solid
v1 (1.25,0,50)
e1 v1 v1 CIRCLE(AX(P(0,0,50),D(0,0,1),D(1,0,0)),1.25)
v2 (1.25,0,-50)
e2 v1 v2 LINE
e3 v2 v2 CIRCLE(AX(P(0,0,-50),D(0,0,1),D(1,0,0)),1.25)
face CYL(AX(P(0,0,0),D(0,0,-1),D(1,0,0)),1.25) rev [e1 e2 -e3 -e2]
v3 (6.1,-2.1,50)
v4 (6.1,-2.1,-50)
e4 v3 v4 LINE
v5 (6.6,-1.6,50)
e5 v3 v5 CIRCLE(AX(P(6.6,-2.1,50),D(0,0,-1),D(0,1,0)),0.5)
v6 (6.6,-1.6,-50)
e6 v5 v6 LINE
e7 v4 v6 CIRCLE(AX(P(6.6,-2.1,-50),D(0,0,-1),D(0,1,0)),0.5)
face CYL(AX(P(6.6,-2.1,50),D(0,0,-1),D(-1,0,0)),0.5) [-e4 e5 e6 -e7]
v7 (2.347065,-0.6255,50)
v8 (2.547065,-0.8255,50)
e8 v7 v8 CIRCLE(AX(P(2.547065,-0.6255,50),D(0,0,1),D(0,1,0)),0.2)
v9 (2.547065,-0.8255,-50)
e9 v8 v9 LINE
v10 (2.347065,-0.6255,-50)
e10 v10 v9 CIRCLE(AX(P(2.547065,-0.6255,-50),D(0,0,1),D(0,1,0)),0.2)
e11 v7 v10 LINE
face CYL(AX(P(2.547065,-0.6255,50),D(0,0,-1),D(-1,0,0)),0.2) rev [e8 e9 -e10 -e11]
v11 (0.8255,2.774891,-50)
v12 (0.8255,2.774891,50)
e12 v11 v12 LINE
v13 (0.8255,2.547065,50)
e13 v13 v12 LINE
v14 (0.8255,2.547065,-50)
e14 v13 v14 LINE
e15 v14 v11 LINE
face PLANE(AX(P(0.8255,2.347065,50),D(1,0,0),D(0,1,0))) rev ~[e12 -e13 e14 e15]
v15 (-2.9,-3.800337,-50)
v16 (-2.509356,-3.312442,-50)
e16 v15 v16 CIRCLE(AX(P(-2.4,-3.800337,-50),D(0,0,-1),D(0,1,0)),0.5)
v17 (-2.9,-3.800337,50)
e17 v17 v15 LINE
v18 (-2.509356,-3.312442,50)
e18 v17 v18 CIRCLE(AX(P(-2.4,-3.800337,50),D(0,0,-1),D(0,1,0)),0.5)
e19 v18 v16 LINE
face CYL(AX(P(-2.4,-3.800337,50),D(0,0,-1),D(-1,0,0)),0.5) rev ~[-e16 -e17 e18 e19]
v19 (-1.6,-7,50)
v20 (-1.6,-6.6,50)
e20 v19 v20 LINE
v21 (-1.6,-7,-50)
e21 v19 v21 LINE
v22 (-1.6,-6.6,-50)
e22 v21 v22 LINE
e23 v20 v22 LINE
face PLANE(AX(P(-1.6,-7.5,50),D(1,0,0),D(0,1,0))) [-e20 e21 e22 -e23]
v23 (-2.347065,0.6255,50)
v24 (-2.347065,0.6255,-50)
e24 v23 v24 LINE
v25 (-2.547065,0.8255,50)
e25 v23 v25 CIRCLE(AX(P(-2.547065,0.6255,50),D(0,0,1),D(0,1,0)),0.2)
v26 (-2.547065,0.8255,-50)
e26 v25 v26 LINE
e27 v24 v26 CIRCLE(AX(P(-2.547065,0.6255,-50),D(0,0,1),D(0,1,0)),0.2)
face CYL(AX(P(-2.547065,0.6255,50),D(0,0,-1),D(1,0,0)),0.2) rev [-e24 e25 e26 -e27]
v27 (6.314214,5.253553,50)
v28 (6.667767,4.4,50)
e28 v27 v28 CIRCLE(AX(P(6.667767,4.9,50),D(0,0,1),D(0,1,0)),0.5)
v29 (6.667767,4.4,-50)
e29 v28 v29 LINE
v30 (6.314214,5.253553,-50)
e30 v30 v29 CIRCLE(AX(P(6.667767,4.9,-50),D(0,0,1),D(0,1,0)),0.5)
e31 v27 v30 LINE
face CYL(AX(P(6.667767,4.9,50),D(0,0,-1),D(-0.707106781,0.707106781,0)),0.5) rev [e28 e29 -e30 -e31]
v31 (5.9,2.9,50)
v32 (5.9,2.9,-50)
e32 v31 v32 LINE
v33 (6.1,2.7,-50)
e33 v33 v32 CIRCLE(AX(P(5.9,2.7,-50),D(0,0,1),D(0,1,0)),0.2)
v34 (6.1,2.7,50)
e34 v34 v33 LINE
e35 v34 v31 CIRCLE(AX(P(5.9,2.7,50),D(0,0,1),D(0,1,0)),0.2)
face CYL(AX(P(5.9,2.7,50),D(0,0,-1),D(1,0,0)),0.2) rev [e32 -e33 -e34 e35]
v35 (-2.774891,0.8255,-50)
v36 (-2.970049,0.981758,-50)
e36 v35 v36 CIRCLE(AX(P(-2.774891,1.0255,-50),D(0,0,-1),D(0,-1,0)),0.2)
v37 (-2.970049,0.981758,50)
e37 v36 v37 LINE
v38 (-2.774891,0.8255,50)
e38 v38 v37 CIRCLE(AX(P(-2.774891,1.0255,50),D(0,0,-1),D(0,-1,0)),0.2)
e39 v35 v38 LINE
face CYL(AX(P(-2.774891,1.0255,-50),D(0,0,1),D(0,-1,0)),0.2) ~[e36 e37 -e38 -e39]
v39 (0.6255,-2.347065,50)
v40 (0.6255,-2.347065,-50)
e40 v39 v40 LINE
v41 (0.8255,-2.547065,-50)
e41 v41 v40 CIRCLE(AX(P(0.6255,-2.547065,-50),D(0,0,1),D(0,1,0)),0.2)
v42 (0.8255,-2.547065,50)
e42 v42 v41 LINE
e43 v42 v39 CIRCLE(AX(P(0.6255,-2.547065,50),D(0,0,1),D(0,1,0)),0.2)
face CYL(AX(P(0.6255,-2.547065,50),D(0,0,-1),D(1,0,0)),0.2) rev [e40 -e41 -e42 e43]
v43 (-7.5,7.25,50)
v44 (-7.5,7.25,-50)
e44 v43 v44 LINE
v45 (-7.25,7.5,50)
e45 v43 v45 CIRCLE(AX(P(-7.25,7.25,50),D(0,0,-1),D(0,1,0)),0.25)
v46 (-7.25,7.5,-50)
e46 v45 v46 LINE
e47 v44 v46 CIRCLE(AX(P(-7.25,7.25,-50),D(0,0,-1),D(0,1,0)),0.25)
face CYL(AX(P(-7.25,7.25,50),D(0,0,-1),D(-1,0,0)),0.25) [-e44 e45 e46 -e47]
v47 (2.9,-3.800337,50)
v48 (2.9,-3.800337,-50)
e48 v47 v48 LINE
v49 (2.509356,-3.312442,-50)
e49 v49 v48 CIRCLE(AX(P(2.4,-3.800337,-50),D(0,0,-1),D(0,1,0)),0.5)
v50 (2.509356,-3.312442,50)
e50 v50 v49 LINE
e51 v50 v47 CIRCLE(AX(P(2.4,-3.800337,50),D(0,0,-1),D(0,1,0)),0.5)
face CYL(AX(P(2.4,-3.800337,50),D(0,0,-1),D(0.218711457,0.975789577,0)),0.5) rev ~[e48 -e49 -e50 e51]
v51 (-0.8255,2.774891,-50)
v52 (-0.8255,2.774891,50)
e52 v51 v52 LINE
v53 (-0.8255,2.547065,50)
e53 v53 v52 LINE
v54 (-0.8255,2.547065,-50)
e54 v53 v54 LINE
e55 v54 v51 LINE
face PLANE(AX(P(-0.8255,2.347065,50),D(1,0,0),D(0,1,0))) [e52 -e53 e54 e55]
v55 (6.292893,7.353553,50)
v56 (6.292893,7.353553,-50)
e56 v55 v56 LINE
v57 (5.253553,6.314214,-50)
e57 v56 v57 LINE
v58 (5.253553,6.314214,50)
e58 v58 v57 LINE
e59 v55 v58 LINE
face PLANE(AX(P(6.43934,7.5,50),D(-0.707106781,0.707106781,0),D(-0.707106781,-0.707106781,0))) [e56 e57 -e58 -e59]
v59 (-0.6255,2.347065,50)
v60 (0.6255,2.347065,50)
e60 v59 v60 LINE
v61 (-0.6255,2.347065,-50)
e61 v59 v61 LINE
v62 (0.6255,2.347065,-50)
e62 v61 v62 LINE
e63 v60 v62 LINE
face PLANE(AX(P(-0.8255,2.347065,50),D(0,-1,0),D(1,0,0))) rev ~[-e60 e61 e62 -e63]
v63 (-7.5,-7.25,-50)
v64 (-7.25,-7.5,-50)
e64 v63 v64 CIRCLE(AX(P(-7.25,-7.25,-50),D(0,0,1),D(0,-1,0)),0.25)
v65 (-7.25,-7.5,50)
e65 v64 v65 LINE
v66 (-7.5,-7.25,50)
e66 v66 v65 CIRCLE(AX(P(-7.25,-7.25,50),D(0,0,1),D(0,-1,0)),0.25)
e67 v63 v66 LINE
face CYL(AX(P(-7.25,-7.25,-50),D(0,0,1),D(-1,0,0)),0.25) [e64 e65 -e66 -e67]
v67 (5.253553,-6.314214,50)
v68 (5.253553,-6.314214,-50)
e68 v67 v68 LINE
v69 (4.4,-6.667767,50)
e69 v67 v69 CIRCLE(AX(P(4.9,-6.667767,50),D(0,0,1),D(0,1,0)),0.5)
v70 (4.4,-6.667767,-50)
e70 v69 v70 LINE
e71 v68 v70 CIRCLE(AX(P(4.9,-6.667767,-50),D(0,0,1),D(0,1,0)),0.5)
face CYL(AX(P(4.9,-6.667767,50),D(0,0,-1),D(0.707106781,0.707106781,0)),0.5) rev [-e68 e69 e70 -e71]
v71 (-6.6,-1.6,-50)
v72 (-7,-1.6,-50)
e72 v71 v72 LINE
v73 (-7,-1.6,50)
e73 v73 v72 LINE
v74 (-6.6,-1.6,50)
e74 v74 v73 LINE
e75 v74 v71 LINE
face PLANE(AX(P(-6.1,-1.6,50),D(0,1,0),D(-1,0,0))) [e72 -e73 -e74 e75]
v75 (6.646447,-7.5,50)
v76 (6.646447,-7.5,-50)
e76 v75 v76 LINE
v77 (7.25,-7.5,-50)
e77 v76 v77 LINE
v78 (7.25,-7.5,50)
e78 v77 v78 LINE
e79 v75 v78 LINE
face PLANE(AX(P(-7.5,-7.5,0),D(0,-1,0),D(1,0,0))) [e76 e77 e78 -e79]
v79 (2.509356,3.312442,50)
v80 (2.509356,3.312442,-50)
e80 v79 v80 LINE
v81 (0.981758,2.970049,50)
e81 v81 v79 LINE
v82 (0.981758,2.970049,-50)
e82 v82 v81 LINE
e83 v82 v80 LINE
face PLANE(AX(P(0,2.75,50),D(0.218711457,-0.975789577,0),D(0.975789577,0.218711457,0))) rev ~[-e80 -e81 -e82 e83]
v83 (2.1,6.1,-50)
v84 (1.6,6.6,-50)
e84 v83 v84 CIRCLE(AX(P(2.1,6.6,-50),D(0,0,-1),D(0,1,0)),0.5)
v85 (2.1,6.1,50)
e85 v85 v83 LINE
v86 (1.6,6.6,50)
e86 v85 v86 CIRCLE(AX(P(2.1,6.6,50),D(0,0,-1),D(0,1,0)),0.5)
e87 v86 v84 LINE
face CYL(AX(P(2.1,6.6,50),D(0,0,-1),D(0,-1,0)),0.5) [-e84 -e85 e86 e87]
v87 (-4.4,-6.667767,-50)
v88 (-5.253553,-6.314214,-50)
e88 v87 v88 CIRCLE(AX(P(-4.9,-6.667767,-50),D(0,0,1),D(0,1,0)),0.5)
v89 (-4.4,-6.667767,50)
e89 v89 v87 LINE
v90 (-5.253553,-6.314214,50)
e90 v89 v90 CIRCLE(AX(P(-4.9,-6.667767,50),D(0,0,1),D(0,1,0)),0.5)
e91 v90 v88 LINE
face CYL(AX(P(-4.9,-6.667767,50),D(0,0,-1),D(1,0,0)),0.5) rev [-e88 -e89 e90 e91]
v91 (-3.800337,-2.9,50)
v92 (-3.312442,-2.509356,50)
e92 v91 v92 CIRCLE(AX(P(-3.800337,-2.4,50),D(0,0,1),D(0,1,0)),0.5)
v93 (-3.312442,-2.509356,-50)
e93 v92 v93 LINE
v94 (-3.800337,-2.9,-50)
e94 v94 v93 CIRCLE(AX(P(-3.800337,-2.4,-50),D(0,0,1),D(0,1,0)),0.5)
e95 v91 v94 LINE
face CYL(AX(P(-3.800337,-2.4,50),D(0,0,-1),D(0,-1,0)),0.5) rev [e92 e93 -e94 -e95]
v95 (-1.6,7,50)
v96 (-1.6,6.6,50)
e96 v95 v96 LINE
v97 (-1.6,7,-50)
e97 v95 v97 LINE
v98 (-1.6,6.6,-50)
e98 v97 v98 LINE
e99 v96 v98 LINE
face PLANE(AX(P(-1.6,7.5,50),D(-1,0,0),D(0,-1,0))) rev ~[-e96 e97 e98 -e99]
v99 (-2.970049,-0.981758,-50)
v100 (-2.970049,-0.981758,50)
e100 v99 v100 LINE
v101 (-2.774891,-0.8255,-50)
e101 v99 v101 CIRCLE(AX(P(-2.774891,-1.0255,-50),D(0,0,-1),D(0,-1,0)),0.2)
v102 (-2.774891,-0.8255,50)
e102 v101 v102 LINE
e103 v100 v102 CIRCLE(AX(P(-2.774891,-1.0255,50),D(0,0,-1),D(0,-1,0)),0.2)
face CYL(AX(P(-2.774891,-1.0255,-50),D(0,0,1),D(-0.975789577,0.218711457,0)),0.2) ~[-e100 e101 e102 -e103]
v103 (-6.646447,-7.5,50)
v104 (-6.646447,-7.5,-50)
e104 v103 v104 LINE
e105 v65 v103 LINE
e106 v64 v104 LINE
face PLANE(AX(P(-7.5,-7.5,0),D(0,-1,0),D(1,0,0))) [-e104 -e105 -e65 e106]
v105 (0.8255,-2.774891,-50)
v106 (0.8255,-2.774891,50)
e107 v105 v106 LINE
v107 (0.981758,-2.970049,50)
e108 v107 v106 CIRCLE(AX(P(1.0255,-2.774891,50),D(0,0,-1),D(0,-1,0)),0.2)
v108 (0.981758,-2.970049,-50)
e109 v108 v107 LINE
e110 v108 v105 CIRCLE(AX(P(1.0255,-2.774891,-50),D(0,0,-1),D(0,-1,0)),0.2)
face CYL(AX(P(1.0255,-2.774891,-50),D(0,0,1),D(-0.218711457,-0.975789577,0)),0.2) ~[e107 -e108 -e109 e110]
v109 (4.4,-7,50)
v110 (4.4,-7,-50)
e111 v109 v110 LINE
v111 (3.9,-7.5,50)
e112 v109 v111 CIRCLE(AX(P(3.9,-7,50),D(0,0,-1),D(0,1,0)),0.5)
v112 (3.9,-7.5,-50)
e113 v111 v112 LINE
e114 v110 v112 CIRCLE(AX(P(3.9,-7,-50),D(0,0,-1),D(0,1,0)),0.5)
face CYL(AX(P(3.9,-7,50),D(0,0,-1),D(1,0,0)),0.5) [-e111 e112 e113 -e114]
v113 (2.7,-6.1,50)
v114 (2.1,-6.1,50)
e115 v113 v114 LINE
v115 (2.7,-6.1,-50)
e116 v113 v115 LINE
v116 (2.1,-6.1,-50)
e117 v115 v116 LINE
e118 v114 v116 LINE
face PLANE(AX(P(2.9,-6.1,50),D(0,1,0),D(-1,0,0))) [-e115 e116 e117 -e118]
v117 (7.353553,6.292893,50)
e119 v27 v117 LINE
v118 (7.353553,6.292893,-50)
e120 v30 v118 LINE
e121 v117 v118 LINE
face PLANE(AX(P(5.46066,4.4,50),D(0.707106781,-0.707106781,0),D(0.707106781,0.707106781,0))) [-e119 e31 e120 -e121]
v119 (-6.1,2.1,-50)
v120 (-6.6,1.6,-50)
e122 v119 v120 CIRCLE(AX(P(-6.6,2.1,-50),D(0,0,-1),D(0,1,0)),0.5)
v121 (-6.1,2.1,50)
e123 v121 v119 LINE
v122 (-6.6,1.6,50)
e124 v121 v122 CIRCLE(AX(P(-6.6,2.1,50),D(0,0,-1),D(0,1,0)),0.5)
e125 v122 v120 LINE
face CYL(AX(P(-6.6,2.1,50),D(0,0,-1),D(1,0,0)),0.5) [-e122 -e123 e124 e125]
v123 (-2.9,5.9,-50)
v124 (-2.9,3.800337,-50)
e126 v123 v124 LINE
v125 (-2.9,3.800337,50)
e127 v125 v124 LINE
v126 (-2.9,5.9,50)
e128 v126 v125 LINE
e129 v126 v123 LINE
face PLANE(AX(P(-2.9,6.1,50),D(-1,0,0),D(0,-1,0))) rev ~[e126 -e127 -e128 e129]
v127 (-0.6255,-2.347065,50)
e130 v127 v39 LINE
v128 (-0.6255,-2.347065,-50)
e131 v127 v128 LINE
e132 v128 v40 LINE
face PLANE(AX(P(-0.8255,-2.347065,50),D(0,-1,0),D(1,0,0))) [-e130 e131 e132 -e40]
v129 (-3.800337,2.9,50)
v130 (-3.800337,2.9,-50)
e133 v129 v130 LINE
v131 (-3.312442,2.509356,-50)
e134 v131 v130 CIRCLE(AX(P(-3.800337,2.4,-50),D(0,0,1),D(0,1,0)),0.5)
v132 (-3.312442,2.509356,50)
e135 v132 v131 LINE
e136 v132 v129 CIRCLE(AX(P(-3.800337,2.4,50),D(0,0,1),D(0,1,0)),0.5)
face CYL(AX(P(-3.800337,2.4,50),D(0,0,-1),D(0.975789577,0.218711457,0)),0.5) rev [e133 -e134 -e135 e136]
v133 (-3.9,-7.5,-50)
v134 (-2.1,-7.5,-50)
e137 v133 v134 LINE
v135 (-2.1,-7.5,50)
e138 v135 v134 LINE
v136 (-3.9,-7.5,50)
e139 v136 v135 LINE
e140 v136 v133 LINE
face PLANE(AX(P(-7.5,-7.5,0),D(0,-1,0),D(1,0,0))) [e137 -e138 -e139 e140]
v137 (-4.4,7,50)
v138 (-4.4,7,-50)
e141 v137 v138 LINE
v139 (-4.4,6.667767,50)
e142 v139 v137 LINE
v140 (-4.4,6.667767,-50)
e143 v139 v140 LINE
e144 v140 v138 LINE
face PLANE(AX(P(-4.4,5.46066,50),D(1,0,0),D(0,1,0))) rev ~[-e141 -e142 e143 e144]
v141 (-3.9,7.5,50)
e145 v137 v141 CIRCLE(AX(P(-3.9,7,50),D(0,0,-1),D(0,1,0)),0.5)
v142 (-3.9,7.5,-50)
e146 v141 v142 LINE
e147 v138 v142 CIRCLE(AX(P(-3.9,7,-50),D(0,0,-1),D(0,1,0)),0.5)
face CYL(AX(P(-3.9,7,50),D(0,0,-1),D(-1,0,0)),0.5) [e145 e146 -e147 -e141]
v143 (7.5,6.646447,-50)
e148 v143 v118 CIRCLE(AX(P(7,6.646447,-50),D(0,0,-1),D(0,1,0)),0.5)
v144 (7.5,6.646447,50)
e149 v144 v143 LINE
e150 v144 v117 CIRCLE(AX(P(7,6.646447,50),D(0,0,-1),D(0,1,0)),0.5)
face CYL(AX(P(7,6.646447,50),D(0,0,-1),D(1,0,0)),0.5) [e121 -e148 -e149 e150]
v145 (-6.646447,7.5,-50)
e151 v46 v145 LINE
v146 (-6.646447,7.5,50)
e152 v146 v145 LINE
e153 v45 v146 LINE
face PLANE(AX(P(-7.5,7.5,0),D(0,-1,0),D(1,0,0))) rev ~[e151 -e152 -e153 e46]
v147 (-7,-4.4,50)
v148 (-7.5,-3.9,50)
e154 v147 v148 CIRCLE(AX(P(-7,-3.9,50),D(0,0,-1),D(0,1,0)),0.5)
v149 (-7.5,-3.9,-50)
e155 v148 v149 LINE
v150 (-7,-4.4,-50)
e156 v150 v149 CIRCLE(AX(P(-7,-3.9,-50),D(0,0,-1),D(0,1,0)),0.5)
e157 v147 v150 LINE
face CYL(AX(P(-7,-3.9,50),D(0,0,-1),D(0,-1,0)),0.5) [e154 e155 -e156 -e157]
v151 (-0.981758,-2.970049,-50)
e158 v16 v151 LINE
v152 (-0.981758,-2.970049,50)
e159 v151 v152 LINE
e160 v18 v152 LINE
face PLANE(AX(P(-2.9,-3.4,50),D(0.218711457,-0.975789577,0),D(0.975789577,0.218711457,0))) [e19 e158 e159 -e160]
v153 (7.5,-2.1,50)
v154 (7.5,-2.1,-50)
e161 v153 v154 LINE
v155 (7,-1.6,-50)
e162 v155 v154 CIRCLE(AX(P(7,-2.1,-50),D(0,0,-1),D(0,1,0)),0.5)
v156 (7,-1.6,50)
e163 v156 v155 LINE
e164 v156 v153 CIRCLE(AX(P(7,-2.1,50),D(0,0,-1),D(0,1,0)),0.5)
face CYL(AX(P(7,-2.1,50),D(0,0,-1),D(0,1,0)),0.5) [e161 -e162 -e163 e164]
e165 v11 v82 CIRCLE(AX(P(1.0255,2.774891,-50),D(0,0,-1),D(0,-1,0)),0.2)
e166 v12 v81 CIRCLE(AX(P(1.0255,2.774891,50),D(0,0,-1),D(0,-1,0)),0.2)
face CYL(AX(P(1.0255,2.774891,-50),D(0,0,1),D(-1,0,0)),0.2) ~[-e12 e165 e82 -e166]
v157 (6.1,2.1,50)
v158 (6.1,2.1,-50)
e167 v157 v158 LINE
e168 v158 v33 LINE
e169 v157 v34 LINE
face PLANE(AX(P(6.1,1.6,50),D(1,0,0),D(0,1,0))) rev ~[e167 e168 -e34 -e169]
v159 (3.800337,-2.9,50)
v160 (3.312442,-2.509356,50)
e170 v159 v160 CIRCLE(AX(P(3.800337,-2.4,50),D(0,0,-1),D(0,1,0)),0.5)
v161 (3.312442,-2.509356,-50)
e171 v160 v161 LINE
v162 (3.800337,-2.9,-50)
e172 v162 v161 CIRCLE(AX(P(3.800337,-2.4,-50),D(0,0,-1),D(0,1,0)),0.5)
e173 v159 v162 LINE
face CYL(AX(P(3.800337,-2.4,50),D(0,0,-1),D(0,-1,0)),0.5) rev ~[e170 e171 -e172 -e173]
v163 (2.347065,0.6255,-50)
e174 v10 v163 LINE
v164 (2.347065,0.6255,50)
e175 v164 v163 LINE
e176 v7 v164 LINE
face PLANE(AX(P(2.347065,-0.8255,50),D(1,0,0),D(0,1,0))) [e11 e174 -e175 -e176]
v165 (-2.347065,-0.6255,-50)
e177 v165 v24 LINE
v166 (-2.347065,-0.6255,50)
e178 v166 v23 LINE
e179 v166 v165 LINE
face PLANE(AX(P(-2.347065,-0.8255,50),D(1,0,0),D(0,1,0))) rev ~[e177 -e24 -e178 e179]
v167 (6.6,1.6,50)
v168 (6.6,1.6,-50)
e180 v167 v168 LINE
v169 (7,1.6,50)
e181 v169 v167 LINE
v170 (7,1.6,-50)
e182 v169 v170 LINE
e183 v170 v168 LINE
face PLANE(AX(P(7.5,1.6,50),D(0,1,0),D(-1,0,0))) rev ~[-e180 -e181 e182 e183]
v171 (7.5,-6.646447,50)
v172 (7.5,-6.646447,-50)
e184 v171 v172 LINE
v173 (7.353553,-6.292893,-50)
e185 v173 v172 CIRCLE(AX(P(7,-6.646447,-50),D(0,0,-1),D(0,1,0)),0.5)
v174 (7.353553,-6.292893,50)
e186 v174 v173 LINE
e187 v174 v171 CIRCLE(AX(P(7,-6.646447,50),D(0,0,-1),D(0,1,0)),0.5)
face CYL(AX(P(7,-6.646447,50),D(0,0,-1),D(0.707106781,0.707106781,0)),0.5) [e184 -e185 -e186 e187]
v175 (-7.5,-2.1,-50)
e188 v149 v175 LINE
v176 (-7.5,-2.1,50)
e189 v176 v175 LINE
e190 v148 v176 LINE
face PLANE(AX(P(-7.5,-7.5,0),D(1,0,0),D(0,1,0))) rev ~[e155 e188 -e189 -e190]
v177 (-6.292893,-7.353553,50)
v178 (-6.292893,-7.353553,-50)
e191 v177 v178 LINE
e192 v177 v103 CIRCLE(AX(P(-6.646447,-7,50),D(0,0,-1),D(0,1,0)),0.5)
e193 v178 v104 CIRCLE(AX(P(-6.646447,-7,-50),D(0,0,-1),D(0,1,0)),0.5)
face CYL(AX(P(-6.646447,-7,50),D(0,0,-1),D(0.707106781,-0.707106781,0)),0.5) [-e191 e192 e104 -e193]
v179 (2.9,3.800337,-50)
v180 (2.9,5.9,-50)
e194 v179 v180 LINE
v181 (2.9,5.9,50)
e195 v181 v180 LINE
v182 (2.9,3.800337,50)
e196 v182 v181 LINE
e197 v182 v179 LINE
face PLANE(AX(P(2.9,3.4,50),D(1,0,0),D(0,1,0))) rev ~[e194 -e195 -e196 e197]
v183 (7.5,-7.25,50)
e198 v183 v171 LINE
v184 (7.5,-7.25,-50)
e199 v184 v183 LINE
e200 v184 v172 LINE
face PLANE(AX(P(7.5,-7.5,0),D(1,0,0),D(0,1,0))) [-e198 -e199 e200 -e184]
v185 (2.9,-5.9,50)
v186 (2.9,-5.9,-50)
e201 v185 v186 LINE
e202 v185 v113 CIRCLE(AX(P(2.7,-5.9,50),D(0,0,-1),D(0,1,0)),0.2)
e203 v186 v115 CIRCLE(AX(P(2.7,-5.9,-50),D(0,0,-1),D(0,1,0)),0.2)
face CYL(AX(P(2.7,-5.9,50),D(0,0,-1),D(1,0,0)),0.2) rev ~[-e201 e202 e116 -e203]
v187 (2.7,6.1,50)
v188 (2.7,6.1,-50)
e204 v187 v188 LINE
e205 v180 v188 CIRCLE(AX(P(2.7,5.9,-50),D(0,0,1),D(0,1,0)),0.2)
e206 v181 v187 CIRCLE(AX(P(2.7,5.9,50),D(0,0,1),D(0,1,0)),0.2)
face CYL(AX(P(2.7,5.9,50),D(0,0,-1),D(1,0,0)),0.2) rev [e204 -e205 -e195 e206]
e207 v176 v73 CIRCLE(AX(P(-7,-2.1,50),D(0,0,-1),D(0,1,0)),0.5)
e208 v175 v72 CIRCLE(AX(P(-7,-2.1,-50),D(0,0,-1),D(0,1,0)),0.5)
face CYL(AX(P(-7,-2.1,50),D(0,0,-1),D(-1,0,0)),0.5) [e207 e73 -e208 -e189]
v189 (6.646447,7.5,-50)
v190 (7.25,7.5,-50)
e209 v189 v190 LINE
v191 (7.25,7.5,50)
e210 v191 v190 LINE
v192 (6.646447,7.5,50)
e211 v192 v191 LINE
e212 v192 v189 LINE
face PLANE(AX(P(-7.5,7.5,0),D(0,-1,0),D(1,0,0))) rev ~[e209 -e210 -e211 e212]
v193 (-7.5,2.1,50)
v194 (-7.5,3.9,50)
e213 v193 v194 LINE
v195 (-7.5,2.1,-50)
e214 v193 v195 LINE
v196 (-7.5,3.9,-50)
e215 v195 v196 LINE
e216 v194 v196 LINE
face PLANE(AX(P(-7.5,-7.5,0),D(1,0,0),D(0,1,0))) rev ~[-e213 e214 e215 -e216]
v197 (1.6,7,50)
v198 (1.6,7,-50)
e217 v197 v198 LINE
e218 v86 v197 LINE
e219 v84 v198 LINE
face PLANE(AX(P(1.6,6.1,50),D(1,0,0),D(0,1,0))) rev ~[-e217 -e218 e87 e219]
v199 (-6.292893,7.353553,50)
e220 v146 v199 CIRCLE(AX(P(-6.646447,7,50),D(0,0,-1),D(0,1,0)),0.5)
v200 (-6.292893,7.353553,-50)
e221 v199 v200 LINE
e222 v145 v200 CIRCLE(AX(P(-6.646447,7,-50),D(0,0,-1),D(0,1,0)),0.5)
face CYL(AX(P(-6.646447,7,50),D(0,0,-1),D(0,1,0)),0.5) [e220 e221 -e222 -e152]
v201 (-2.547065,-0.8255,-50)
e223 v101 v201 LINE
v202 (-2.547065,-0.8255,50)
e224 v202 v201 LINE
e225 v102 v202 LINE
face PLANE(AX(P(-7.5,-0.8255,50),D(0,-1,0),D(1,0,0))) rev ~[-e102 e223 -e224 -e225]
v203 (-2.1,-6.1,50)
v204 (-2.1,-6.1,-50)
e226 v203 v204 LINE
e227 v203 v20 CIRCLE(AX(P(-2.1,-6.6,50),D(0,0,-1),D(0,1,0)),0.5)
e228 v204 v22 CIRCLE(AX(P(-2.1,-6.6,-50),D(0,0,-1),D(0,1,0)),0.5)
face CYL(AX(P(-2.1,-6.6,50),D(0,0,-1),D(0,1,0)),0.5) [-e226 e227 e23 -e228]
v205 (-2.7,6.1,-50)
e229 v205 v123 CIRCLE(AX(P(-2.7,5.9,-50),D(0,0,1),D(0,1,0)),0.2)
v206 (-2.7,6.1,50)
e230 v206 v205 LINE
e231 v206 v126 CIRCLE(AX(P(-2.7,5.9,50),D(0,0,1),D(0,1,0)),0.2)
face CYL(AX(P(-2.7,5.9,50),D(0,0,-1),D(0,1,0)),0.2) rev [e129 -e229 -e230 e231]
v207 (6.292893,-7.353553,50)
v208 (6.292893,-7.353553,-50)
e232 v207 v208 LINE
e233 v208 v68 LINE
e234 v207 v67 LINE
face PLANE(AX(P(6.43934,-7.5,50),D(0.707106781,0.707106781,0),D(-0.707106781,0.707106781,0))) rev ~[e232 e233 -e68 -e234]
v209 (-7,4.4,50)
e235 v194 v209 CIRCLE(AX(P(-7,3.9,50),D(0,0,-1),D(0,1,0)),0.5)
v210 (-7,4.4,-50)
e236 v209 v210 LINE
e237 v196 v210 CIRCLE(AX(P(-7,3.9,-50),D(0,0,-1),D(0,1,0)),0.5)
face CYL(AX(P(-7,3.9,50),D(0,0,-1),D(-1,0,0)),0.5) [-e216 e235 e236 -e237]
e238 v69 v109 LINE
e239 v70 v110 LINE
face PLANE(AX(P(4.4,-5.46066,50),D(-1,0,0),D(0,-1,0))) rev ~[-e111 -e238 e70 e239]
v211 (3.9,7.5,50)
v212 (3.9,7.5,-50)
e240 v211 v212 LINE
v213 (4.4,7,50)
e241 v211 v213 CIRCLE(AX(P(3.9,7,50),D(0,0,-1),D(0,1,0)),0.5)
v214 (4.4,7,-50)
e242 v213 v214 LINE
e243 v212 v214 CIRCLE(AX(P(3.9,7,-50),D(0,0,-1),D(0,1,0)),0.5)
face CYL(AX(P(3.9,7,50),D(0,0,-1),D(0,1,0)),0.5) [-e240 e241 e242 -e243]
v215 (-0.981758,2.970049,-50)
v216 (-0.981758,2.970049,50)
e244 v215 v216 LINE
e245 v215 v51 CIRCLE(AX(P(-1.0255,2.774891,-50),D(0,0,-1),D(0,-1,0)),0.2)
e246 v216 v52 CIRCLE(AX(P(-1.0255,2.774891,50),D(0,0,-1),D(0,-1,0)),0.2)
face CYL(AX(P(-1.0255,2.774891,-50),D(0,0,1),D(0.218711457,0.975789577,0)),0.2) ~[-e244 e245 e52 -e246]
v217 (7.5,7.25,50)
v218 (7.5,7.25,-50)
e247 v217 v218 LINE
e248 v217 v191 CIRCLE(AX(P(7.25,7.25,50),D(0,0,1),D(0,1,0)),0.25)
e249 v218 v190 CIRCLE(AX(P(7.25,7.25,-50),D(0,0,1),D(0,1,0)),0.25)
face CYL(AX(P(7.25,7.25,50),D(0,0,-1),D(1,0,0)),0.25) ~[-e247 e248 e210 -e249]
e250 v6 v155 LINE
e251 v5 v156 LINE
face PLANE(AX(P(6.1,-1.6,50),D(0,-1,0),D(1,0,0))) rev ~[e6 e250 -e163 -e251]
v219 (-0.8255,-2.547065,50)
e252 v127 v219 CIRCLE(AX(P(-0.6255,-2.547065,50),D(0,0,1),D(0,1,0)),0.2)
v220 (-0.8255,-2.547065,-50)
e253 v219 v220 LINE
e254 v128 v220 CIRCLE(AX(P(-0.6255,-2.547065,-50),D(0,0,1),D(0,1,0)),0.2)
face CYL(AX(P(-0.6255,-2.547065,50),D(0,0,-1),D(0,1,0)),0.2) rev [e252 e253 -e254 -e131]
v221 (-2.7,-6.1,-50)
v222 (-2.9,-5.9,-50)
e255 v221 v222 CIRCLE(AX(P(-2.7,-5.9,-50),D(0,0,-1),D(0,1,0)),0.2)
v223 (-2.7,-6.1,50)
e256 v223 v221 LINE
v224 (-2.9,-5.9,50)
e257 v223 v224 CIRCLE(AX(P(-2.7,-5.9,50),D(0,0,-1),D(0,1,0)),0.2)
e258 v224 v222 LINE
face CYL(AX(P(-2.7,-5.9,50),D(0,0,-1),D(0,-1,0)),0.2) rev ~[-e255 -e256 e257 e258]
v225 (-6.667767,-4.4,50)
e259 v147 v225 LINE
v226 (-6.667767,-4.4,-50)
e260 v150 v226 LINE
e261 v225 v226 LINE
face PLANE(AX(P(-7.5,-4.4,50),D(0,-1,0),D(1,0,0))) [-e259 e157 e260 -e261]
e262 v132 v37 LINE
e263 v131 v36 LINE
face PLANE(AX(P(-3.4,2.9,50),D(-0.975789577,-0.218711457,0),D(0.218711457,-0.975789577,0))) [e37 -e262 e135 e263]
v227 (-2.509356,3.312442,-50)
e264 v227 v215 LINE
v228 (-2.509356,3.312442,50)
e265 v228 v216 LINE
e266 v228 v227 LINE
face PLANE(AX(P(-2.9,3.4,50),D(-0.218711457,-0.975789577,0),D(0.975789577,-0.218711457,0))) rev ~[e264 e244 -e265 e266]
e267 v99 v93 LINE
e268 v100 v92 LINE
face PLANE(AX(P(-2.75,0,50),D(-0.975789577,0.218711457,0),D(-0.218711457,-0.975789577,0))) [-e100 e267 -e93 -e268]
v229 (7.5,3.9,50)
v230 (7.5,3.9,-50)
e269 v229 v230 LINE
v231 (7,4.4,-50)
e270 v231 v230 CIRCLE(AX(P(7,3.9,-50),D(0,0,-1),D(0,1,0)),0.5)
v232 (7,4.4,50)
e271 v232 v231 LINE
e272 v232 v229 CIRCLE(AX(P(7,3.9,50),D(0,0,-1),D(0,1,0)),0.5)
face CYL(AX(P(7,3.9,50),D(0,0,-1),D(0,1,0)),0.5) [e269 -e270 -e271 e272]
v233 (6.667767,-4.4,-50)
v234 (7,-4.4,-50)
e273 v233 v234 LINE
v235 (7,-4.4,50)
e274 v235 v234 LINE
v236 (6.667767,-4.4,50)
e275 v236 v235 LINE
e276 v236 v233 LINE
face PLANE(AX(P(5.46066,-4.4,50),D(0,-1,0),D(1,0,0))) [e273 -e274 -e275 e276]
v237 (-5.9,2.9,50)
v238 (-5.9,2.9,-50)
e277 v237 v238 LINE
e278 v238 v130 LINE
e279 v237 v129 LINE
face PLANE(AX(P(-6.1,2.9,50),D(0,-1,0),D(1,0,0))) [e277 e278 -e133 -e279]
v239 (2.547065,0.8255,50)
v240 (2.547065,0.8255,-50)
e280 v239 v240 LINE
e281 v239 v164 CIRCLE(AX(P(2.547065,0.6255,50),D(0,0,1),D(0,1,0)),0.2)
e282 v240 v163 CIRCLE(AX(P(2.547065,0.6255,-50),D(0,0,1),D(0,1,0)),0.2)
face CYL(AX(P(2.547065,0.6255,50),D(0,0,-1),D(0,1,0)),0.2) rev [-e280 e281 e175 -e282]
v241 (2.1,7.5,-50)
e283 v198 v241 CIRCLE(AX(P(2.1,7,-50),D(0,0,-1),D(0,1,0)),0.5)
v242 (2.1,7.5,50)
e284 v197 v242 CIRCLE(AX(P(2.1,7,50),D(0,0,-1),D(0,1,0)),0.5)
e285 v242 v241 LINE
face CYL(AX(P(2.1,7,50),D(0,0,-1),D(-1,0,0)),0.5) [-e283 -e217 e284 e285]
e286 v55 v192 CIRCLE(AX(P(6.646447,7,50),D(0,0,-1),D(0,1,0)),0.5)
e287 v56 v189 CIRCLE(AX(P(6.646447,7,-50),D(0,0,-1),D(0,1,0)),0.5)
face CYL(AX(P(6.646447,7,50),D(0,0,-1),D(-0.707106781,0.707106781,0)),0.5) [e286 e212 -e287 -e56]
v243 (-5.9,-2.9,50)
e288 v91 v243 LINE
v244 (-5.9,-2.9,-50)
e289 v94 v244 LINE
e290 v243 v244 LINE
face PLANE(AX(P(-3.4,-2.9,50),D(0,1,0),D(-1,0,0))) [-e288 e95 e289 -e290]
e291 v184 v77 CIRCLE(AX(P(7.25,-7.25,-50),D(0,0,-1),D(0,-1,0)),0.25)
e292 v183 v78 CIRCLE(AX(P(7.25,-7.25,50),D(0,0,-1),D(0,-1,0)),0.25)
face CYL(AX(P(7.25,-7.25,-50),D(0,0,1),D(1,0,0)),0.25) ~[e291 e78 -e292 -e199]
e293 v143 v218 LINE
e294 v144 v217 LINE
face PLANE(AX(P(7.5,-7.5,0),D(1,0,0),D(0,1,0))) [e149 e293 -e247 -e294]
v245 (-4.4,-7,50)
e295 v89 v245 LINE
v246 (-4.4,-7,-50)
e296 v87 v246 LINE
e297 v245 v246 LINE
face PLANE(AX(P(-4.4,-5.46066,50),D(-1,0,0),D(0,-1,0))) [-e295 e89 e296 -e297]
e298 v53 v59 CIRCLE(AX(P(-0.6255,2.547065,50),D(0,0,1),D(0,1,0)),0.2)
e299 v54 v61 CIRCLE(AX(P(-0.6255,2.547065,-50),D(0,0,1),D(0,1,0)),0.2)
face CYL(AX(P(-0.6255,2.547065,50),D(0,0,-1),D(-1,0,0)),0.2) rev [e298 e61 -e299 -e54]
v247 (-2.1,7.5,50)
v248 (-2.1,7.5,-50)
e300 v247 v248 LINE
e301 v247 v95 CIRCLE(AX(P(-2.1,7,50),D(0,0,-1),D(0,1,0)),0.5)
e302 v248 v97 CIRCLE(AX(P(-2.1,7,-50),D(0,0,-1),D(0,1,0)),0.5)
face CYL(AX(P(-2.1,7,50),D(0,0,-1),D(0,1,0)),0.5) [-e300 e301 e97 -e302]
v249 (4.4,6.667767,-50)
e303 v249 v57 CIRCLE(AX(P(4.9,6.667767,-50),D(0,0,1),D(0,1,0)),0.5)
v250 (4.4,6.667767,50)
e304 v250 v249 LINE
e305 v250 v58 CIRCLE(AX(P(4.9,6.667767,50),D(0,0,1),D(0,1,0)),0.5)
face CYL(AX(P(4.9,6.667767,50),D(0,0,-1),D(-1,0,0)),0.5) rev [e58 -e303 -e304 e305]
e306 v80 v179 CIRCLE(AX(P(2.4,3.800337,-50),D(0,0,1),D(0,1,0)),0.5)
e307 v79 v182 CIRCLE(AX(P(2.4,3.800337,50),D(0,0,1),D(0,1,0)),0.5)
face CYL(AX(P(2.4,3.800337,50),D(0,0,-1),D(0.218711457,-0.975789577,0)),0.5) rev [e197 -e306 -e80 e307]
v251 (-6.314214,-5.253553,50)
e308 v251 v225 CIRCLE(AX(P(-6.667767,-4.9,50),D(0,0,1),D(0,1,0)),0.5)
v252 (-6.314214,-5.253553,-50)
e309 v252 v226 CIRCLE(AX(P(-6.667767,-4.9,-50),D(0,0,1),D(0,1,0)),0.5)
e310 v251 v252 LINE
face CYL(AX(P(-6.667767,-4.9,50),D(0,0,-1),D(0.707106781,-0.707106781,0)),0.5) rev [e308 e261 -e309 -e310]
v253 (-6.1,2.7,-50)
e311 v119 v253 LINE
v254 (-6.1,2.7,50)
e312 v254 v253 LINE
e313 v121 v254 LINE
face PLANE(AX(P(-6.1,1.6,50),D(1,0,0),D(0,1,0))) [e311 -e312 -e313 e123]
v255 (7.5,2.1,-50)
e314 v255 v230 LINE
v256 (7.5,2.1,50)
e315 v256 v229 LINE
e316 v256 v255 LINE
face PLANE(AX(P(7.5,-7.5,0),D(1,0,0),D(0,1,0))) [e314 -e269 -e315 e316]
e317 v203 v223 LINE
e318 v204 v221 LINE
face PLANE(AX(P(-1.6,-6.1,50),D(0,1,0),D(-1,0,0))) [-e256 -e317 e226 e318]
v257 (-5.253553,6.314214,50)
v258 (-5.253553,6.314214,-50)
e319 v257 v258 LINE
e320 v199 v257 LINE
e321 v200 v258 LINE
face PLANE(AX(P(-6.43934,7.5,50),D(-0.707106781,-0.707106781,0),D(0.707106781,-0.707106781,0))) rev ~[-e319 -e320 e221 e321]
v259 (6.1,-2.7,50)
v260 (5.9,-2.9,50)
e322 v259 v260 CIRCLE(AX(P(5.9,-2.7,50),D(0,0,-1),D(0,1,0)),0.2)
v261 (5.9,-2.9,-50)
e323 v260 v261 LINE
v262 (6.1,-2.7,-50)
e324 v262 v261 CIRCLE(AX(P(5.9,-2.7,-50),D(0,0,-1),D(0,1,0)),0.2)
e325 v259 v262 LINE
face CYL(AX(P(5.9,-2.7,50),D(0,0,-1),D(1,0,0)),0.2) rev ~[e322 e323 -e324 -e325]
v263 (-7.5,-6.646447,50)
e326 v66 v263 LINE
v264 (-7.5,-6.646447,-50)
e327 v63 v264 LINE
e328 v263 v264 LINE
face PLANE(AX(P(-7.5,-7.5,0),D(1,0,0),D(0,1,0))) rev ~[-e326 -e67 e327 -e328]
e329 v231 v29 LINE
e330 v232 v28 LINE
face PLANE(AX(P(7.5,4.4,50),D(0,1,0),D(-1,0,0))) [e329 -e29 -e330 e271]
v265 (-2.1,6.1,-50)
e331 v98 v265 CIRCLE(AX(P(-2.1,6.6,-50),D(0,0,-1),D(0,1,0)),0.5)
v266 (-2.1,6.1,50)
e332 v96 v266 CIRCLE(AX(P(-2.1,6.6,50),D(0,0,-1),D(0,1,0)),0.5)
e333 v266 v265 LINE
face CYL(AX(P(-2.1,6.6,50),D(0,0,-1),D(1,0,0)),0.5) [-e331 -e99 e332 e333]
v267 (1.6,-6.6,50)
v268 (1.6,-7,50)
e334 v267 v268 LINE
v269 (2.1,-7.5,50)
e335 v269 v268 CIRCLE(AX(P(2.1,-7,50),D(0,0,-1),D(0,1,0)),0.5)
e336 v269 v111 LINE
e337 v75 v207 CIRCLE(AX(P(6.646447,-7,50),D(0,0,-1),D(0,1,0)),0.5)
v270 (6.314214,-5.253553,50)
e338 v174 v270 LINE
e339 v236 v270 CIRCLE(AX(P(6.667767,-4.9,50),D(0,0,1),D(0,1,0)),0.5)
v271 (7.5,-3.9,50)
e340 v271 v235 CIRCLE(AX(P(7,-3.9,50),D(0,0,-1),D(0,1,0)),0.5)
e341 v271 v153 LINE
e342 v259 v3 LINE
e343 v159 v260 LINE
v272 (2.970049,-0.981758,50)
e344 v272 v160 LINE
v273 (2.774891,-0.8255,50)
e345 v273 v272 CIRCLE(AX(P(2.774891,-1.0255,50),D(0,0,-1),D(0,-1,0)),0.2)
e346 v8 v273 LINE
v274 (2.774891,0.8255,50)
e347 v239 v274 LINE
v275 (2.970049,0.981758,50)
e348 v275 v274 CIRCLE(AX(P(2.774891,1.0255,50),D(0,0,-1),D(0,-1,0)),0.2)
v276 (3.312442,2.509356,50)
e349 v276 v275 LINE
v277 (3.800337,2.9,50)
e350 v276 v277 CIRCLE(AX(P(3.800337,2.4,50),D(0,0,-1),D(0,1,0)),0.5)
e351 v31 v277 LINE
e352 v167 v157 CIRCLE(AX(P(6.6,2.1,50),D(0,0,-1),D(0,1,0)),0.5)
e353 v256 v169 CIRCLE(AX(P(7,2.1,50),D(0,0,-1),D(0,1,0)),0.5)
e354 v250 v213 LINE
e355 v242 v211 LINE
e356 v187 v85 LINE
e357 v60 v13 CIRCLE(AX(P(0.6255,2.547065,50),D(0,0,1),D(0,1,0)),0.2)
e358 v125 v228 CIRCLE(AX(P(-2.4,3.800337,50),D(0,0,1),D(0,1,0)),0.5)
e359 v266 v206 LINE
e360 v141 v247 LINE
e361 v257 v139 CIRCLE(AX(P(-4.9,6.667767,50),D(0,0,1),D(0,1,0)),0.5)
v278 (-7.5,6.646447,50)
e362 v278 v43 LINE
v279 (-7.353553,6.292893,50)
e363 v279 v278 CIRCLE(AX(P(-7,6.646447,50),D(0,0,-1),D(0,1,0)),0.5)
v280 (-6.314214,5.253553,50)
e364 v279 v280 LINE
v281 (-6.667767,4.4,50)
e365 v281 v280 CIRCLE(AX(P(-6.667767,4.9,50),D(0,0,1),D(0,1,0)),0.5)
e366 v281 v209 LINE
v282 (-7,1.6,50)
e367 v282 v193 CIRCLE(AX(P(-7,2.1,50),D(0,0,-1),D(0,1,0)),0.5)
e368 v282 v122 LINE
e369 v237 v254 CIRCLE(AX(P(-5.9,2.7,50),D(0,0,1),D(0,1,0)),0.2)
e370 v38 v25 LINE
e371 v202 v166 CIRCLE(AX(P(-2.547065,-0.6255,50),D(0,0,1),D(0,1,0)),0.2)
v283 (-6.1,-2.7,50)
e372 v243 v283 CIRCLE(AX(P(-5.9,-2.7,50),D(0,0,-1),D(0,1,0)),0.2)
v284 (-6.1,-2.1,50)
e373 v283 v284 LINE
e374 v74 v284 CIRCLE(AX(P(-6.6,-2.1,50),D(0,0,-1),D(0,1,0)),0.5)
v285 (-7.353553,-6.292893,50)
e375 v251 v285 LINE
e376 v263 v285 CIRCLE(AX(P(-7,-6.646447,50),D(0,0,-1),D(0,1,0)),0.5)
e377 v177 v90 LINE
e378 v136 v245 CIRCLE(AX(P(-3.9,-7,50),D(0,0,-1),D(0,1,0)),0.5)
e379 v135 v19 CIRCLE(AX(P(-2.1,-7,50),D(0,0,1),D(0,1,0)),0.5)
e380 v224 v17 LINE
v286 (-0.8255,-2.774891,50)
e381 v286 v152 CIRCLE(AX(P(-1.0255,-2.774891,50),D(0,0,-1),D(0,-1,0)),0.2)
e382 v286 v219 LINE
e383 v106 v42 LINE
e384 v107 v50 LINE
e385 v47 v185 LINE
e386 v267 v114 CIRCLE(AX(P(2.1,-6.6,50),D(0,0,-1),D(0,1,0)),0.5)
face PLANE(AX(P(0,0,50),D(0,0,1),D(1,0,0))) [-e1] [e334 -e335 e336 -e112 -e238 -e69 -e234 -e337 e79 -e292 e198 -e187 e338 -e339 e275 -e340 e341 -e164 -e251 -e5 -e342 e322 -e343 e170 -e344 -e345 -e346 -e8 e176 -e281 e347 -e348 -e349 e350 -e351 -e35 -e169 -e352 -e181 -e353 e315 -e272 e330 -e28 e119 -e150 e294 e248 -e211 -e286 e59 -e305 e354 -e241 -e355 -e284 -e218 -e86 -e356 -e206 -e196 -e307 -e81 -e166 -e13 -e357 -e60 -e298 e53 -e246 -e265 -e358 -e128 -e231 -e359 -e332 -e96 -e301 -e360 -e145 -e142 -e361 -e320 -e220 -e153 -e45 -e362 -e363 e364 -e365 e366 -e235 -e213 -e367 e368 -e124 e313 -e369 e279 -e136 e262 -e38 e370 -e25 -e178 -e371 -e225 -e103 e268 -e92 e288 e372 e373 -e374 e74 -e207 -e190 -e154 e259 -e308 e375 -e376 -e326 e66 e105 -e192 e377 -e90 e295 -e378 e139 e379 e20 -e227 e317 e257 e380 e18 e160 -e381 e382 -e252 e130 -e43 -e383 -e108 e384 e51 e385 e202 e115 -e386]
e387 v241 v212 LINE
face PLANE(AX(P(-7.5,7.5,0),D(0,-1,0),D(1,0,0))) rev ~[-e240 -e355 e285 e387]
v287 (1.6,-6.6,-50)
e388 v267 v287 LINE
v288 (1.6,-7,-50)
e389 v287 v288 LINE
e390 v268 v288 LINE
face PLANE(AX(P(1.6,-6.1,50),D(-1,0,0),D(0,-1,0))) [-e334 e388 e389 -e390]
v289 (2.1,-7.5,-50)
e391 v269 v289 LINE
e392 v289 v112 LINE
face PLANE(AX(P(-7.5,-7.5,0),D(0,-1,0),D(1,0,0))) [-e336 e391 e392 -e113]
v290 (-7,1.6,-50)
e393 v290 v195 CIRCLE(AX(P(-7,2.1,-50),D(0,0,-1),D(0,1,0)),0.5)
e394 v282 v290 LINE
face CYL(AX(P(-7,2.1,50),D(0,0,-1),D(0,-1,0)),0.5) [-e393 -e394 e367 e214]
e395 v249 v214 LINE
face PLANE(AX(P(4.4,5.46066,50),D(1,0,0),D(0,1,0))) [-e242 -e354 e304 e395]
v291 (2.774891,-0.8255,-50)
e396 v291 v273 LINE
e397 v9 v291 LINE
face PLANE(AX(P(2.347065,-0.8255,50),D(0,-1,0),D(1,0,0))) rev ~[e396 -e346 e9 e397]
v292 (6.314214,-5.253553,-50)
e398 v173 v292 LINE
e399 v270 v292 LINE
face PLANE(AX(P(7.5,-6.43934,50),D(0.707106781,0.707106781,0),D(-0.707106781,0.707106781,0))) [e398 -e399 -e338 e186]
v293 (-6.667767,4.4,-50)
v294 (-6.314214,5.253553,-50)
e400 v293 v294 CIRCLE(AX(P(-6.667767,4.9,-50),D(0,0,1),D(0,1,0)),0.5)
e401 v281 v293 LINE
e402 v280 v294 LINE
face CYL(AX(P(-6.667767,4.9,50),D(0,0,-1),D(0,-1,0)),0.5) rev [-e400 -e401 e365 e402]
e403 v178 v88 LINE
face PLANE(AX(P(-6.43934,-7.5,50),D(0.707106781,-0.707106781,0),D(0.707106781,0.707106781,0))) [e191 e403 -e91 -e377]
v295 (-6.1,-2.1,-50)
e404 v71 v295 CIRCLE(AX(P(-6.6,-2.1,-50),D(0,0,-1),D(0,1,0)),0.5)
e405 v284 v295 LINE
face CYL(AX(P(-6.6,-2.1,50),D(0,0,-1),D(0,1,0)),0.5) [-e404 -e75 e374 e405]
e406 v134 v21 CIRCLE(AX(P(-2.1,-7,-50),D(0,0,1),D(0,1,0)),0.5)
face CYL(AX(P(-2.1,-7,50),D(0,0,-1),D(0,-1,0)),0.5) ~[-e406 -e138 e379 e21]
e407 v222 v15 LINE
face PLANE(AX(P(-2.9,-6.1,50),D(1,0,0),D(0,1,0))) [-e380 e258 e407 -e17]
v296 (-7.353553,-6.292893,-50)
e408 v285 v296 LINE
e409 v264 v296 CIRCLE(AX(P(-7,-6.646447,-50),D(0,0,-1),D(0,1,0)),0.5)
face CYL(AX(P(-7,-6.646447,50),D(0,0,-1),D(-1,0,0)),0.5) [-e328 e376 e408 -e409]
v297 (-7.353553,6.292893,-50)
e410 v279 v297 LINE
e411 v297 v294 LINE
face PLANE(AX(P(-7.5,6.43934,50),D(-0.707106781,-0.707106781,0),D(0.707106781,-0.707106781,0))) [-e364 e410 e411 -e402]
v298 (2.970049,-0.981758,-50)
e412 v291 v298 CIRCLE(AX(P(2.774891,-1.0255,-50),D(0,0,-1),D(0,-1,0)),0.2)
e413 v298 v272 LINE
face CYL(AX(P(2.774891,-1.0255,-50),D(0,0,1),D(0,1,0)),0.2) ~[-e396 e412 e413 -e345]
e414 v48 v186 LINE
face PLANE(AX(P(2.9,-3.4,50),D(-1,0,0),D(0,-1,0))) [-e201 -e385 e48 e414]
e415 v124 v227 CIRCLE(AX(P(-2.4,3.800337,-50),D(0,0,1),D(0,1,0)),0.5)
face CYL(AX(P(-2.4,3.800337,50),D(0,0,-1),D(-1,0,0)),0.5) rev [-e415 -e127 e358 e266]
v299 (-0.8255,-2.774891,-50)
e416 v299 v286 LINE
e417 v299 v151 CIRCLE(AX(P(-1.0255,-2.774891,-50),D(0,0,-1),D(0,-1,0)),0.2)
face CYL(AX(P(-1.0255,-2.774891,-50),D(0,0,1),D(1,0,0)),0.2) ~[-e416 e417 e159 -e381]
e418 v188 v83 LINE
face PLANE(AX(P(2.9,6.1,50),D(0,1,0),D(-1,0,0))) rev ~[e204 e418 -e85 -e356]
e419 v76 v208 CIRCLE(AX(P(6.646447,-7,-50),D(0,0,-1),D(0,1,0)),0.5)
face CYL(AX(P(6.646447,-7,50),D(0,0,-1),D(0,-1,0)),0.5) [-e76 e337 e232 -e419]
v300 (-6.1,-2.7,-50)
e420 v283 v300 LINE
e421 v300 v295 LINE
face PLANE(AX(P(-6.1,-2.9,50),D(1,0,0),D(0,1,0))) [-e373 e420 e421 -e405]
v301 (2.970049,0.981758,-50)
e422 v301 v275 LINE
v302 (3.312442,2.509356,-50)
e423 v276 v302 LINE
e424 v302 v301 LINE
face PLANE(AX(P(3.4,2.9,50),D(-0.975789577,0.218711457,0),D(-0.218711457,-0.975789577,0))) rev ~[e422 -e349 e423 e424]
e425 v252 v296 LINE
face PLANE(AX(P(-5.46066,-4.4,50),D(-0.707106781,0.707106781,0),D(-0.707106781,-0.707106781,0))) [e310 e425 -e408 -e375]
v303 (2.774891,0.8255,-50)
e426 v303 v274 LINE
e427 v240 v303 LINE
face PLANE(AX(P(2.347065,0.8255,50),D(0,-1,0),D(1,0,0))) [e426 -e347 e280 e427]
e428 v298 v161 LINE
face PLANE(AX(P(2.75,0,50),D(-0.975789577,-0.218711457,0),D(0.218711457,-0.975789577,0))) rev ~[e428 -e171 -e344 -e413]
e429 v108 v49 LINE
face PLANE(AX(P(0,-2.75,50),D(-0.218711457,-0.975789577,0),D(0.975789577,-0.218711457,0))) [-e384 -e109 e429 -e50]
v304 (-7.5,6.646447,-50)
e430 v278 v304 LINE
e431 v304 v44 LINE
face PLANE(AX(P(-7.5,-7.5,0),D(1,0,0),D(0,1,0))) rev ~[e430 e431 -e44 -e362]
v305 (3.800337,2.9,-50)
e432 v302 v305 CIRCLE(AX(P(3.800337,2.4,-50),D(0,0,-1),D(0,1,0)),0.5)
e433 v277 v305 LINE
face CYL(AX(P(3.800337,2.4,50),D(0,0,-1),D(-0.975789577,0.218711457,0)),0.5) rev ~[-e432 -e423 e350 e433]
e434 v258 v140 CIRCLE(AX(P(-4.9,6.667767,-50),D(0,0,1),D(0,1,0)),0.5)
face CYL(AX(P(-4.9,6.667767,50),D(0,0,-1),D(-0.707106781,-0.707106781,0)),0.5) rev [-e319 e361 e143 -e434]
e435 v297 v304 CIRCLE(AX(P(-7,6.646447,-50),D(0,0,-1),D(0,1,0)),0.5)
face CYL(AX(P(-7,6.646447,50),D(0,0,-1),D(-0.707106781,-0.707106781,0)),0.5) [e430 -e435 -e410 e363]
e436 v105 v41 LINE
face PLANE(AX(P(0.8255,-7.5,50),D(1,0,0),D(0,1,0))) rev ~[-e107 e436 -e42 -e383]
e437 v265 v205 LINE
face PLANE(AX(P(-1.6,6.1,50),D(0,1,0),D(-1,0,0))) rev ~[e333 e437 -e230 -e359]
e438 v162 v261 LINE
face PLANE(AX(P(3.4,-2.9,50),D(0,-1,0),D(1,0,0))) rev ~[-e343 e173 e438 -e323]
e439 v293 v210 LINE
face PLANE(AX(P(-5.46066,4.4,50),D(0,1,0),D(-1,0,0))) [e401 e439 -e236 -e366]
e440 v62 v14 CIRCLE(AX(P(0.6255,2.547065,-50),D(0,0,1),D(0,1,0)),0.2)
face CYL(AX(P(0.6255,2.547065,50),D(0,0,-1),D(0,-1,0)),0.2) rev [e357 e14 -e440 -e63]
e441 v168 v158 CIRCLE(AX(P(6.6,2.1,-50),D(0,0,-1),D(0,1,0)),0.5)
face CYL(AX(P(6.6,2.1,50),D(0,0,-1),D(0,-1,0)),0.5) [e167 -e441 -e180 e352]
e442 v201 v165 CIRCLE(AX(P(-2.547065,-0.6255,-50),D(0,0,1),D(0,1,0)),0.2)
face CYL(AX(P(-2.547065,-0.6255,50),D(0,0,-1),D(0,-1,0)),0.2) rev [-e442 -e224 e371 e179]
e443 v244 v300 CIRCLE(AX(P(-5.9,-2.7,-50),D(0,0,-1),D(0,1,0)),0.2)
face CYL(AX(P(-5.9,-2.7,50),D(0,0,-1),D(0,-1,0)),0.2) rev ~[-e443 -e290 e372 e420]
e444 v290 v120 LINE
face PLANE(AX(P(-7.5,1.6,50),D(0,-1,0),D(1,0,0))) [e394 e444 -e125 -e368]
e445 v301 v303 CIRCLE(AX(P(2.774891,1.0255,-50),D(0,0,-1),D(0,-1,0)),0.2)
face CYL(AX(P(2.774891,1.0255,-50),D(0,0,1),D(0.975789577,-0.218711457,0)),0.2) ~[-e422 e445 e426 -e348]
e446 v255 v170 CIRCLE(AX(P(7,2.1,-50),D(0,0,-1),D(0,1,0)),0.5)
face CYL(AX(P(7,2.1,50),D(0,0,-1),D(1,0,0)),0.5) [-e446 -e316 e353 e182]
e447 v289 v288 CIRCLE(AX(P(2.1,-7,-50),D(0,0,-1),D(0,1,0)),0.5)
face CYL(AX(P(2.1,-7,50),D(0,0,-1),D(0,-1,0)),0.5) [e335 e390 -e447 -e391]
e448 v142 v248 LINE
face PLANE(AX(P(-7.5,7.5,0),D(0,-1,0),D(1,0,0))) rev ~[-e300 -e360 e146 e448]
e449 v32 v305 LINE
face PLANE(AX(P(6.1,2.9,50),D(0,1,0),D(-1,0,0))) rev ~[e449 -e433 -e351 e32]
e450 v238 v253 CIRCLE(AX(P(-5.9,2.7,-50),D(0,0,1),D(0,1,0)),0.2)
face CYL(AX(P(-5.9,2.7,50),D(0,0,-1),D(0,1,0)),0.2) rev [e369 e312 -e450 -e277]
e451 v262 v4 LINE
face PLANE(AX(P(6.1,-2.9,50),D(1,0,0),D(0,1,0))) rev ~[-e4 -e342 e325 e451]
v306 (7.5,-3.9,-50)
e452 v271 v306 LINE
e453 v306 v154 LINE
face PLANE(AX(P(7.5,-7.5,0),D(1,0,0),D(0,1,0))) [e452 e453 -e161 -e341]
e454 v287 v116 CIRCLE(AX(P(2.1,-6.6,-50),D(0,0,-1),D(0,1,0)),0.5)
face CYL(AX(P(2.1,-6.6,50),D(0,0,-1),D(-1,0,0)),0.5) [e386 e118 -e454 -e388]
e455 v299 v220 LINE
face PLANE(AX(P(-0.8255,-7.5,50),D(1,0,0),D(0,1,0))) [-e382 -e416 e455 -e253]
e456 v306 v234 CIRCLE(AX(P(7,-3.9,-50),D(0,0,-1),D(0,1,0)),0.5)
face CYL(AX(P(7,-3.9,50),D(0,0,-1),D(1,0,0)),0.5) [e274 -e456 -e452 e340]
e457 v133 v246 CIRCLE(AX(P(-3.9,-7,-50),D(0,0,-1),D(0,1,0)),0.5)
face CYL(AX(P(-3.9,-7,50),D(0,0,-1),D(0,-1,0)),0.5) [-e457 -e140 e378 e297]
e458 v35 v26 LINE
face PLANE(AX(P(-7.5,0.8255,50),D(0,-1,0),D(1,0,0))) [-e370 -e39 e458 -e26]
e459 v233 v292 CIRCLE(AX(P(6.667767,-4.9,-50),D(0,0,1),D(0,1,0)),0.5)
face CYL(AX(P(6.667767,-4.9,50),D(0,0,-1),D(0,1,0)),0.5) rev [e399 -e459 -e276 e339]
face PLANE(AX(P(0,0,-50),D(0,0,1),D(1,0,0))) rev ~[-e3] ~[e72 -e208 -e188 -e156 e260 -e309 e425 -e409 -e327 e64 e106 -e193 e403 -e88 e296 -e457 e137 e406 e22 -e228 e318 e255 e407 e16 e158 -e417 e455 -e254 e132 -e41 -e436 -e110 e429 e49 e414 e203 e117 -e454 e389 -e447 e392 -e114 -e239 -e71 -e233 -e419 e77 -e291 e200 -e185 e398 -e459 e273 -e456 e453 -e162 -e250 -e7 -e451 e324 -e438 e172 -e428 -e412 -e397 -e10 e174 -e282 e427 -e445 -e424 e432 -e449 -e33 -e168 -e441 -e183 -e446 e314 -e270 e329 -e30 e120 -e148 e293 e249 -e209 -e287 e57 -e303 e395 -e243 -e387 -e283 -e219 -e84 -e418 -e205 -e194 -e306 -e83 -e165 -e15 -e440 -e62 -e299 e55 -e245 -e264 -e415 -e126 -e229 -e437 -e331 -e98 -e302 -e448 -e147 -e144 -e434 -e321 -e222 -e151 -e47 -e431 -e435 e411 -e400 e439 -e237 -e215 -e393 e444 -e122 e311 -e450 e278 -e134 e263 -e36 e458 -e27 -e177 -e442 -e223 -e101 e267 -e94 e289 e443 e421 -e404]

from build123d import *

# Parameters (mm, degrees)
SKETCH1_W           = 15
SKETCH1_H           = 15
SKETCH1_R           = 1.25
BOSS_EXTRUDE1_DEPTH = 50
FILLET1_R           = 0.25
CUT_EXTRUDE1_DEPTH  = 101.560926806
CUT_EXTRUDE3_DEPTH  = 101.560926806
FILLET3_R           = 0.5
FILLET4_R           = 0.5
FILLET5_R           = 3
FILLET6_R           = 0.2
CUT_EXTRUDE4_DEPTH  = 101.560926806
FILLET8_R           = 0.5
SKETCH6_W           = 5.1529354
SKETCH6_H           = 1.651
SKETCH6_W_2         = 1.651
SKETCH6_H_2         = 5.1529354
CUT_EXTRUDE5_DEPTH  = 101.560926806
FILLET10_R          = 0.2


with BuildPart() as part:
    # Sketch1 → Boss-Extrude1 (new, symmetric)
    with BuildSketch(Plane.XY):
        Rectangle(SKETCH1_W, SKETCH1_H)
        Circle(SKETCH1_R, mode=Mode.SUBTRACT)
    extrude(amount=BOSS_EXTRUDE1_DEPTH, both=True)

    # Fillet1
    fillet1_edges = [part.edges().sort_by_distance(p)[0] for p in [
        (7.5, -7.5, 0),
        (-7.5, -7.5, 0),
        (-7.5, 7.5, 0),
        (7.5, 7.5, 0),
    ]]
    fillet(fillet1_edges, radius=FILLET1_R)

    # Sketch2 → Cut-Extrude1 (cut, through all)
    with BuildSketch(Plane.XY.offset(50)):
        Polygon((-7.5, 1.6), (-6.1, 1.6), (-6.1, 2.9), (-3.4, 2.9), (-3.4, -2.9), (-6.1, -2.9), (-6.1, -1.6), (-7.5, -1.6), align=None)
        Polygon((2.9, 6.1), (1.6, 6.1), (1.6, 7.5), (-1.6, 7.5), (-1.6, 6.1), (-2.9, 6.1), (-2.9, 3.4), (2.9, 3.4), align=None)
        Polygon((-1.6, -7.5), (-1.6, -6.1), (-2.9, -6.1), (-2.9, -3.4), (2.9, -3.4), (2.9, -6.1), (1.6, -6.1), (1.6, -7.5), align=None)
        Polygon((6.1, -2.9), (6.1, -1.6), (7.5, -1.6), (7.5, 1.6), (6.1, 1.6), (6.1, 2.9), (3.4, 2.9), (3.4, -2.9), align=None)
    extrude(amount=-CUT_EXTRUDE1_DEPTH, mode=Mode.SUBTRACT)

    # Sketch4 → Cut-Extrude3 (cut, through all)
    with BuildSketch(Plane.XY.offset(50)):
        Polygon((-3.4, 2.9), (-2.75, 0), (-3.4, -2.9), align=None)
        Polygon((-2.9, 3.4), (0, 2.75), (2.9, 3.4), align=None)
        Polygon((3.4, 2.9), (2.75, 0), (3.4, -2.9), align=None)
        Polygon((-2.9, -3.4), (0, -2.75), (2.9, -3.4), align=None)
    extrude(amount=-CUT_EXTRUDE3_DEPTH, mode=Mode.SUBTRACT)

    # Fillet3
    fillet3_edges = [part.edges().sort_by_distance(p)[0] for p in [
        (1.6, -7.5, 0),
        (-1.6, -7.5, 0),
        (-1.6, -6.1, 0),
        (1.6, -6.1, 0),
        (6.1, 1.6, 0),
        (7.5, 1.6, 0),
        (7.5, -1.6, 0),
        (6.1, -1.6, 0),
        (-7.5, -1.6, 0),
        (-7.5, 1.6, 0),
        (-6.1, 1.6, 0),
        (-6.1, -1.6, 0),
        (-1.6, 6.1, 0),
        (-1.6, 7.5, 0),
        (1.6, 7.5, 0),
        (1.6, 6.1, 0),
    ]]
    fillet(fillet3_edges, radius=FILLET3_R)

    # Fillet4
    fillet4_edges = [part.edges().sort_by_distance(p)[0] for p in [
        (-2.9, -3.4, 0),
        (2.9, -3.4, 0),
        (3.4, -2.9, 0),
        (3.4, 2.9, 0),
        (-3.4, 2.9, 0),
        (-3.4, -2.9, 0),
        (2.9, 3.4, 0),
        (-2.9, 3.4, 0),
    ]]
    fillet(fillet4_edges, radius=FILLET4_R)

    # Fillet5
    fillet5_edges = [part.edges().sort_by_distance(p)[0] for p in [
        (-2.75, 0, 0),
        (0, 2.75, 0),
        (2.75, 0, 0),
        (0, -2.75, 0),
    ]]
    fillet(fillet5_edges, radius=FILLET5_R)

    # Fillet6
    fillet6_edges = [part.edges().sort_by_distance(p)[0] for p in [
        (-2.9, -6.1, 0),
        (2.9, -6.1, 0),
        (6.1, -2.9, 0),
        (6.1, 2.9, 0),
        (-6.1, 2.9, 0),
        (-6.1, -2.9, 0),
        (2.9, 6.1, 0),
        (-2.9, 6.1, 0),
    ]]
    fillet(fillet6_edges, radius=FILLET6_R)

    # Sketch5 → Cut-Extrude4 (cut, through all)
    with BuildSketch(Plane.XY.offset(50)):
        Polygon((-7.5, 6.439339828), (-5.460660172, 4.4), (-7.5, 4.4), align=None)
        Polygon((-6.439339828, 7.5), (-4.4, 5.460660172), (-4.4, 7.5), align=None)
        Polygon((4.4, 7.5), (6.439339828, 7.5), (4.4, 5.460660172), align=None)
        Polygon((7.5, 6.439339828), (7.5, 4.4), (5.460660172, 4.4), align=None)
        Polygon((7.5, -6.439339828), (5.460660172, -4.4), (7.5, -4.4), align=None)
        Polygon((6.439339828, -7.5), (4.4, -5.460660172), (4.4, -7.5), align=None)
        Polygon((-4.4, -7.5), (-6.439339828, -7.5), (-4.4, -5.460660172), align=None)
        Polygon((-7.5, -6.439339828), (-7.5, -4.4), (-5.460660172, -4.4), align=None)
    extrude(amount=-CUT_EXTRUDE4_DEPTH, mode=Mode.SUBTRACT)

    # Fillet8
    fillet8_edges = [part.edges().sort_by_distance(p)[0] for p in [
        (-7.5, 4.4, 0),
        (-7.5, 6.439339828, 0),
        (-5.460660172, 4.4, 0),
        (7.5, -4.4, 0),
        (7.5, -6.439339828, 0),
        (5.460660172, -4.4, 0),
        (5.460660172, 4.4, 0),
        (7.5, 6.439339828, 0),
        (7.5, 4.4, 0),
        (-4.4, 7.5, 0),
        (-4.4, 5.460660172, 0),
        (-6.439339828, 7.5, 0),
        (-5.460660172, -4.4, 0),
        (-7.5, -6.439339828, 0),
        (-7.5, -4.4, 0),
        (4.4, 5.460660172, 0),
        (4.4, 7.5, 0),
        (6.439339828, 7.5, 0),
        (6.439339828, -7.5, 0),
        (4.4, -7.5, 0),
        (4.4, -5.460660172, 0),
        (-6.439339828, -7.5, 0),
        (-4.4, -5.460660172, 0),
        (-4.4, -7.5, 0),
    ]]
    fillet(fillet8_edges, radius=FILLET8_R)

    # Sketch6 → Cut-Extrude5 (cut, through all)
    with BuildSketch(Plane.XY.offset(50)):
        with Locations((4.9235323, 0)):
            Rectangle(SKETCH6_W, SKETCH6_H)
        with Locations((0, -4.9235323)):
            Rectangle(SKETCH6_W_2, SKETCH6_H_2)
        with Locations((-4.9235323, 0)):
            Rectangle(SKETCH6_W, SKETCH6_H)
        with Locations((0, 4.9235323)):
            Rectangle(SKETCH6_W_2, SKETCH6_H_2)
    extrude(amount=-CUT_EXTRUDE5_DEPTH, mode=Mode.SUBTRACT)

    # Fillet10
    fillet10_edges = [part.edges().sort_by_distance(p)[0] for p in [
        (0.8255, -2.935025862, 0),
        (-0.8255, -2.935025862, 0),
        (0.8255, -2.3470646, 0),
        (-0.8255, -2.3470646, 0),
        (2.935025862, 0.8255, 0),
        (2.935025862, -0.8255, 0),
        (2.3470646, 0.8255, 0),
        (2.3470646, -0.8255, 0),
        (-2.935025862, -0.8255, 0),
        (-2.935025862, 0.8255, 0),
        (-2.3470646, -0.8255, 0),
        (-2.3470646, 0.8255, 0),
        (-0.8255, 2.935025862, 0),
        (0.8255, 2.935025862, 0),
        (-0.8255, 2.3470646, 0),
        (0.8255, 2.3470646, 0),
    ]]
    fillet(fillet10_edges, radius=FILLET10_R)


solid = part.part
